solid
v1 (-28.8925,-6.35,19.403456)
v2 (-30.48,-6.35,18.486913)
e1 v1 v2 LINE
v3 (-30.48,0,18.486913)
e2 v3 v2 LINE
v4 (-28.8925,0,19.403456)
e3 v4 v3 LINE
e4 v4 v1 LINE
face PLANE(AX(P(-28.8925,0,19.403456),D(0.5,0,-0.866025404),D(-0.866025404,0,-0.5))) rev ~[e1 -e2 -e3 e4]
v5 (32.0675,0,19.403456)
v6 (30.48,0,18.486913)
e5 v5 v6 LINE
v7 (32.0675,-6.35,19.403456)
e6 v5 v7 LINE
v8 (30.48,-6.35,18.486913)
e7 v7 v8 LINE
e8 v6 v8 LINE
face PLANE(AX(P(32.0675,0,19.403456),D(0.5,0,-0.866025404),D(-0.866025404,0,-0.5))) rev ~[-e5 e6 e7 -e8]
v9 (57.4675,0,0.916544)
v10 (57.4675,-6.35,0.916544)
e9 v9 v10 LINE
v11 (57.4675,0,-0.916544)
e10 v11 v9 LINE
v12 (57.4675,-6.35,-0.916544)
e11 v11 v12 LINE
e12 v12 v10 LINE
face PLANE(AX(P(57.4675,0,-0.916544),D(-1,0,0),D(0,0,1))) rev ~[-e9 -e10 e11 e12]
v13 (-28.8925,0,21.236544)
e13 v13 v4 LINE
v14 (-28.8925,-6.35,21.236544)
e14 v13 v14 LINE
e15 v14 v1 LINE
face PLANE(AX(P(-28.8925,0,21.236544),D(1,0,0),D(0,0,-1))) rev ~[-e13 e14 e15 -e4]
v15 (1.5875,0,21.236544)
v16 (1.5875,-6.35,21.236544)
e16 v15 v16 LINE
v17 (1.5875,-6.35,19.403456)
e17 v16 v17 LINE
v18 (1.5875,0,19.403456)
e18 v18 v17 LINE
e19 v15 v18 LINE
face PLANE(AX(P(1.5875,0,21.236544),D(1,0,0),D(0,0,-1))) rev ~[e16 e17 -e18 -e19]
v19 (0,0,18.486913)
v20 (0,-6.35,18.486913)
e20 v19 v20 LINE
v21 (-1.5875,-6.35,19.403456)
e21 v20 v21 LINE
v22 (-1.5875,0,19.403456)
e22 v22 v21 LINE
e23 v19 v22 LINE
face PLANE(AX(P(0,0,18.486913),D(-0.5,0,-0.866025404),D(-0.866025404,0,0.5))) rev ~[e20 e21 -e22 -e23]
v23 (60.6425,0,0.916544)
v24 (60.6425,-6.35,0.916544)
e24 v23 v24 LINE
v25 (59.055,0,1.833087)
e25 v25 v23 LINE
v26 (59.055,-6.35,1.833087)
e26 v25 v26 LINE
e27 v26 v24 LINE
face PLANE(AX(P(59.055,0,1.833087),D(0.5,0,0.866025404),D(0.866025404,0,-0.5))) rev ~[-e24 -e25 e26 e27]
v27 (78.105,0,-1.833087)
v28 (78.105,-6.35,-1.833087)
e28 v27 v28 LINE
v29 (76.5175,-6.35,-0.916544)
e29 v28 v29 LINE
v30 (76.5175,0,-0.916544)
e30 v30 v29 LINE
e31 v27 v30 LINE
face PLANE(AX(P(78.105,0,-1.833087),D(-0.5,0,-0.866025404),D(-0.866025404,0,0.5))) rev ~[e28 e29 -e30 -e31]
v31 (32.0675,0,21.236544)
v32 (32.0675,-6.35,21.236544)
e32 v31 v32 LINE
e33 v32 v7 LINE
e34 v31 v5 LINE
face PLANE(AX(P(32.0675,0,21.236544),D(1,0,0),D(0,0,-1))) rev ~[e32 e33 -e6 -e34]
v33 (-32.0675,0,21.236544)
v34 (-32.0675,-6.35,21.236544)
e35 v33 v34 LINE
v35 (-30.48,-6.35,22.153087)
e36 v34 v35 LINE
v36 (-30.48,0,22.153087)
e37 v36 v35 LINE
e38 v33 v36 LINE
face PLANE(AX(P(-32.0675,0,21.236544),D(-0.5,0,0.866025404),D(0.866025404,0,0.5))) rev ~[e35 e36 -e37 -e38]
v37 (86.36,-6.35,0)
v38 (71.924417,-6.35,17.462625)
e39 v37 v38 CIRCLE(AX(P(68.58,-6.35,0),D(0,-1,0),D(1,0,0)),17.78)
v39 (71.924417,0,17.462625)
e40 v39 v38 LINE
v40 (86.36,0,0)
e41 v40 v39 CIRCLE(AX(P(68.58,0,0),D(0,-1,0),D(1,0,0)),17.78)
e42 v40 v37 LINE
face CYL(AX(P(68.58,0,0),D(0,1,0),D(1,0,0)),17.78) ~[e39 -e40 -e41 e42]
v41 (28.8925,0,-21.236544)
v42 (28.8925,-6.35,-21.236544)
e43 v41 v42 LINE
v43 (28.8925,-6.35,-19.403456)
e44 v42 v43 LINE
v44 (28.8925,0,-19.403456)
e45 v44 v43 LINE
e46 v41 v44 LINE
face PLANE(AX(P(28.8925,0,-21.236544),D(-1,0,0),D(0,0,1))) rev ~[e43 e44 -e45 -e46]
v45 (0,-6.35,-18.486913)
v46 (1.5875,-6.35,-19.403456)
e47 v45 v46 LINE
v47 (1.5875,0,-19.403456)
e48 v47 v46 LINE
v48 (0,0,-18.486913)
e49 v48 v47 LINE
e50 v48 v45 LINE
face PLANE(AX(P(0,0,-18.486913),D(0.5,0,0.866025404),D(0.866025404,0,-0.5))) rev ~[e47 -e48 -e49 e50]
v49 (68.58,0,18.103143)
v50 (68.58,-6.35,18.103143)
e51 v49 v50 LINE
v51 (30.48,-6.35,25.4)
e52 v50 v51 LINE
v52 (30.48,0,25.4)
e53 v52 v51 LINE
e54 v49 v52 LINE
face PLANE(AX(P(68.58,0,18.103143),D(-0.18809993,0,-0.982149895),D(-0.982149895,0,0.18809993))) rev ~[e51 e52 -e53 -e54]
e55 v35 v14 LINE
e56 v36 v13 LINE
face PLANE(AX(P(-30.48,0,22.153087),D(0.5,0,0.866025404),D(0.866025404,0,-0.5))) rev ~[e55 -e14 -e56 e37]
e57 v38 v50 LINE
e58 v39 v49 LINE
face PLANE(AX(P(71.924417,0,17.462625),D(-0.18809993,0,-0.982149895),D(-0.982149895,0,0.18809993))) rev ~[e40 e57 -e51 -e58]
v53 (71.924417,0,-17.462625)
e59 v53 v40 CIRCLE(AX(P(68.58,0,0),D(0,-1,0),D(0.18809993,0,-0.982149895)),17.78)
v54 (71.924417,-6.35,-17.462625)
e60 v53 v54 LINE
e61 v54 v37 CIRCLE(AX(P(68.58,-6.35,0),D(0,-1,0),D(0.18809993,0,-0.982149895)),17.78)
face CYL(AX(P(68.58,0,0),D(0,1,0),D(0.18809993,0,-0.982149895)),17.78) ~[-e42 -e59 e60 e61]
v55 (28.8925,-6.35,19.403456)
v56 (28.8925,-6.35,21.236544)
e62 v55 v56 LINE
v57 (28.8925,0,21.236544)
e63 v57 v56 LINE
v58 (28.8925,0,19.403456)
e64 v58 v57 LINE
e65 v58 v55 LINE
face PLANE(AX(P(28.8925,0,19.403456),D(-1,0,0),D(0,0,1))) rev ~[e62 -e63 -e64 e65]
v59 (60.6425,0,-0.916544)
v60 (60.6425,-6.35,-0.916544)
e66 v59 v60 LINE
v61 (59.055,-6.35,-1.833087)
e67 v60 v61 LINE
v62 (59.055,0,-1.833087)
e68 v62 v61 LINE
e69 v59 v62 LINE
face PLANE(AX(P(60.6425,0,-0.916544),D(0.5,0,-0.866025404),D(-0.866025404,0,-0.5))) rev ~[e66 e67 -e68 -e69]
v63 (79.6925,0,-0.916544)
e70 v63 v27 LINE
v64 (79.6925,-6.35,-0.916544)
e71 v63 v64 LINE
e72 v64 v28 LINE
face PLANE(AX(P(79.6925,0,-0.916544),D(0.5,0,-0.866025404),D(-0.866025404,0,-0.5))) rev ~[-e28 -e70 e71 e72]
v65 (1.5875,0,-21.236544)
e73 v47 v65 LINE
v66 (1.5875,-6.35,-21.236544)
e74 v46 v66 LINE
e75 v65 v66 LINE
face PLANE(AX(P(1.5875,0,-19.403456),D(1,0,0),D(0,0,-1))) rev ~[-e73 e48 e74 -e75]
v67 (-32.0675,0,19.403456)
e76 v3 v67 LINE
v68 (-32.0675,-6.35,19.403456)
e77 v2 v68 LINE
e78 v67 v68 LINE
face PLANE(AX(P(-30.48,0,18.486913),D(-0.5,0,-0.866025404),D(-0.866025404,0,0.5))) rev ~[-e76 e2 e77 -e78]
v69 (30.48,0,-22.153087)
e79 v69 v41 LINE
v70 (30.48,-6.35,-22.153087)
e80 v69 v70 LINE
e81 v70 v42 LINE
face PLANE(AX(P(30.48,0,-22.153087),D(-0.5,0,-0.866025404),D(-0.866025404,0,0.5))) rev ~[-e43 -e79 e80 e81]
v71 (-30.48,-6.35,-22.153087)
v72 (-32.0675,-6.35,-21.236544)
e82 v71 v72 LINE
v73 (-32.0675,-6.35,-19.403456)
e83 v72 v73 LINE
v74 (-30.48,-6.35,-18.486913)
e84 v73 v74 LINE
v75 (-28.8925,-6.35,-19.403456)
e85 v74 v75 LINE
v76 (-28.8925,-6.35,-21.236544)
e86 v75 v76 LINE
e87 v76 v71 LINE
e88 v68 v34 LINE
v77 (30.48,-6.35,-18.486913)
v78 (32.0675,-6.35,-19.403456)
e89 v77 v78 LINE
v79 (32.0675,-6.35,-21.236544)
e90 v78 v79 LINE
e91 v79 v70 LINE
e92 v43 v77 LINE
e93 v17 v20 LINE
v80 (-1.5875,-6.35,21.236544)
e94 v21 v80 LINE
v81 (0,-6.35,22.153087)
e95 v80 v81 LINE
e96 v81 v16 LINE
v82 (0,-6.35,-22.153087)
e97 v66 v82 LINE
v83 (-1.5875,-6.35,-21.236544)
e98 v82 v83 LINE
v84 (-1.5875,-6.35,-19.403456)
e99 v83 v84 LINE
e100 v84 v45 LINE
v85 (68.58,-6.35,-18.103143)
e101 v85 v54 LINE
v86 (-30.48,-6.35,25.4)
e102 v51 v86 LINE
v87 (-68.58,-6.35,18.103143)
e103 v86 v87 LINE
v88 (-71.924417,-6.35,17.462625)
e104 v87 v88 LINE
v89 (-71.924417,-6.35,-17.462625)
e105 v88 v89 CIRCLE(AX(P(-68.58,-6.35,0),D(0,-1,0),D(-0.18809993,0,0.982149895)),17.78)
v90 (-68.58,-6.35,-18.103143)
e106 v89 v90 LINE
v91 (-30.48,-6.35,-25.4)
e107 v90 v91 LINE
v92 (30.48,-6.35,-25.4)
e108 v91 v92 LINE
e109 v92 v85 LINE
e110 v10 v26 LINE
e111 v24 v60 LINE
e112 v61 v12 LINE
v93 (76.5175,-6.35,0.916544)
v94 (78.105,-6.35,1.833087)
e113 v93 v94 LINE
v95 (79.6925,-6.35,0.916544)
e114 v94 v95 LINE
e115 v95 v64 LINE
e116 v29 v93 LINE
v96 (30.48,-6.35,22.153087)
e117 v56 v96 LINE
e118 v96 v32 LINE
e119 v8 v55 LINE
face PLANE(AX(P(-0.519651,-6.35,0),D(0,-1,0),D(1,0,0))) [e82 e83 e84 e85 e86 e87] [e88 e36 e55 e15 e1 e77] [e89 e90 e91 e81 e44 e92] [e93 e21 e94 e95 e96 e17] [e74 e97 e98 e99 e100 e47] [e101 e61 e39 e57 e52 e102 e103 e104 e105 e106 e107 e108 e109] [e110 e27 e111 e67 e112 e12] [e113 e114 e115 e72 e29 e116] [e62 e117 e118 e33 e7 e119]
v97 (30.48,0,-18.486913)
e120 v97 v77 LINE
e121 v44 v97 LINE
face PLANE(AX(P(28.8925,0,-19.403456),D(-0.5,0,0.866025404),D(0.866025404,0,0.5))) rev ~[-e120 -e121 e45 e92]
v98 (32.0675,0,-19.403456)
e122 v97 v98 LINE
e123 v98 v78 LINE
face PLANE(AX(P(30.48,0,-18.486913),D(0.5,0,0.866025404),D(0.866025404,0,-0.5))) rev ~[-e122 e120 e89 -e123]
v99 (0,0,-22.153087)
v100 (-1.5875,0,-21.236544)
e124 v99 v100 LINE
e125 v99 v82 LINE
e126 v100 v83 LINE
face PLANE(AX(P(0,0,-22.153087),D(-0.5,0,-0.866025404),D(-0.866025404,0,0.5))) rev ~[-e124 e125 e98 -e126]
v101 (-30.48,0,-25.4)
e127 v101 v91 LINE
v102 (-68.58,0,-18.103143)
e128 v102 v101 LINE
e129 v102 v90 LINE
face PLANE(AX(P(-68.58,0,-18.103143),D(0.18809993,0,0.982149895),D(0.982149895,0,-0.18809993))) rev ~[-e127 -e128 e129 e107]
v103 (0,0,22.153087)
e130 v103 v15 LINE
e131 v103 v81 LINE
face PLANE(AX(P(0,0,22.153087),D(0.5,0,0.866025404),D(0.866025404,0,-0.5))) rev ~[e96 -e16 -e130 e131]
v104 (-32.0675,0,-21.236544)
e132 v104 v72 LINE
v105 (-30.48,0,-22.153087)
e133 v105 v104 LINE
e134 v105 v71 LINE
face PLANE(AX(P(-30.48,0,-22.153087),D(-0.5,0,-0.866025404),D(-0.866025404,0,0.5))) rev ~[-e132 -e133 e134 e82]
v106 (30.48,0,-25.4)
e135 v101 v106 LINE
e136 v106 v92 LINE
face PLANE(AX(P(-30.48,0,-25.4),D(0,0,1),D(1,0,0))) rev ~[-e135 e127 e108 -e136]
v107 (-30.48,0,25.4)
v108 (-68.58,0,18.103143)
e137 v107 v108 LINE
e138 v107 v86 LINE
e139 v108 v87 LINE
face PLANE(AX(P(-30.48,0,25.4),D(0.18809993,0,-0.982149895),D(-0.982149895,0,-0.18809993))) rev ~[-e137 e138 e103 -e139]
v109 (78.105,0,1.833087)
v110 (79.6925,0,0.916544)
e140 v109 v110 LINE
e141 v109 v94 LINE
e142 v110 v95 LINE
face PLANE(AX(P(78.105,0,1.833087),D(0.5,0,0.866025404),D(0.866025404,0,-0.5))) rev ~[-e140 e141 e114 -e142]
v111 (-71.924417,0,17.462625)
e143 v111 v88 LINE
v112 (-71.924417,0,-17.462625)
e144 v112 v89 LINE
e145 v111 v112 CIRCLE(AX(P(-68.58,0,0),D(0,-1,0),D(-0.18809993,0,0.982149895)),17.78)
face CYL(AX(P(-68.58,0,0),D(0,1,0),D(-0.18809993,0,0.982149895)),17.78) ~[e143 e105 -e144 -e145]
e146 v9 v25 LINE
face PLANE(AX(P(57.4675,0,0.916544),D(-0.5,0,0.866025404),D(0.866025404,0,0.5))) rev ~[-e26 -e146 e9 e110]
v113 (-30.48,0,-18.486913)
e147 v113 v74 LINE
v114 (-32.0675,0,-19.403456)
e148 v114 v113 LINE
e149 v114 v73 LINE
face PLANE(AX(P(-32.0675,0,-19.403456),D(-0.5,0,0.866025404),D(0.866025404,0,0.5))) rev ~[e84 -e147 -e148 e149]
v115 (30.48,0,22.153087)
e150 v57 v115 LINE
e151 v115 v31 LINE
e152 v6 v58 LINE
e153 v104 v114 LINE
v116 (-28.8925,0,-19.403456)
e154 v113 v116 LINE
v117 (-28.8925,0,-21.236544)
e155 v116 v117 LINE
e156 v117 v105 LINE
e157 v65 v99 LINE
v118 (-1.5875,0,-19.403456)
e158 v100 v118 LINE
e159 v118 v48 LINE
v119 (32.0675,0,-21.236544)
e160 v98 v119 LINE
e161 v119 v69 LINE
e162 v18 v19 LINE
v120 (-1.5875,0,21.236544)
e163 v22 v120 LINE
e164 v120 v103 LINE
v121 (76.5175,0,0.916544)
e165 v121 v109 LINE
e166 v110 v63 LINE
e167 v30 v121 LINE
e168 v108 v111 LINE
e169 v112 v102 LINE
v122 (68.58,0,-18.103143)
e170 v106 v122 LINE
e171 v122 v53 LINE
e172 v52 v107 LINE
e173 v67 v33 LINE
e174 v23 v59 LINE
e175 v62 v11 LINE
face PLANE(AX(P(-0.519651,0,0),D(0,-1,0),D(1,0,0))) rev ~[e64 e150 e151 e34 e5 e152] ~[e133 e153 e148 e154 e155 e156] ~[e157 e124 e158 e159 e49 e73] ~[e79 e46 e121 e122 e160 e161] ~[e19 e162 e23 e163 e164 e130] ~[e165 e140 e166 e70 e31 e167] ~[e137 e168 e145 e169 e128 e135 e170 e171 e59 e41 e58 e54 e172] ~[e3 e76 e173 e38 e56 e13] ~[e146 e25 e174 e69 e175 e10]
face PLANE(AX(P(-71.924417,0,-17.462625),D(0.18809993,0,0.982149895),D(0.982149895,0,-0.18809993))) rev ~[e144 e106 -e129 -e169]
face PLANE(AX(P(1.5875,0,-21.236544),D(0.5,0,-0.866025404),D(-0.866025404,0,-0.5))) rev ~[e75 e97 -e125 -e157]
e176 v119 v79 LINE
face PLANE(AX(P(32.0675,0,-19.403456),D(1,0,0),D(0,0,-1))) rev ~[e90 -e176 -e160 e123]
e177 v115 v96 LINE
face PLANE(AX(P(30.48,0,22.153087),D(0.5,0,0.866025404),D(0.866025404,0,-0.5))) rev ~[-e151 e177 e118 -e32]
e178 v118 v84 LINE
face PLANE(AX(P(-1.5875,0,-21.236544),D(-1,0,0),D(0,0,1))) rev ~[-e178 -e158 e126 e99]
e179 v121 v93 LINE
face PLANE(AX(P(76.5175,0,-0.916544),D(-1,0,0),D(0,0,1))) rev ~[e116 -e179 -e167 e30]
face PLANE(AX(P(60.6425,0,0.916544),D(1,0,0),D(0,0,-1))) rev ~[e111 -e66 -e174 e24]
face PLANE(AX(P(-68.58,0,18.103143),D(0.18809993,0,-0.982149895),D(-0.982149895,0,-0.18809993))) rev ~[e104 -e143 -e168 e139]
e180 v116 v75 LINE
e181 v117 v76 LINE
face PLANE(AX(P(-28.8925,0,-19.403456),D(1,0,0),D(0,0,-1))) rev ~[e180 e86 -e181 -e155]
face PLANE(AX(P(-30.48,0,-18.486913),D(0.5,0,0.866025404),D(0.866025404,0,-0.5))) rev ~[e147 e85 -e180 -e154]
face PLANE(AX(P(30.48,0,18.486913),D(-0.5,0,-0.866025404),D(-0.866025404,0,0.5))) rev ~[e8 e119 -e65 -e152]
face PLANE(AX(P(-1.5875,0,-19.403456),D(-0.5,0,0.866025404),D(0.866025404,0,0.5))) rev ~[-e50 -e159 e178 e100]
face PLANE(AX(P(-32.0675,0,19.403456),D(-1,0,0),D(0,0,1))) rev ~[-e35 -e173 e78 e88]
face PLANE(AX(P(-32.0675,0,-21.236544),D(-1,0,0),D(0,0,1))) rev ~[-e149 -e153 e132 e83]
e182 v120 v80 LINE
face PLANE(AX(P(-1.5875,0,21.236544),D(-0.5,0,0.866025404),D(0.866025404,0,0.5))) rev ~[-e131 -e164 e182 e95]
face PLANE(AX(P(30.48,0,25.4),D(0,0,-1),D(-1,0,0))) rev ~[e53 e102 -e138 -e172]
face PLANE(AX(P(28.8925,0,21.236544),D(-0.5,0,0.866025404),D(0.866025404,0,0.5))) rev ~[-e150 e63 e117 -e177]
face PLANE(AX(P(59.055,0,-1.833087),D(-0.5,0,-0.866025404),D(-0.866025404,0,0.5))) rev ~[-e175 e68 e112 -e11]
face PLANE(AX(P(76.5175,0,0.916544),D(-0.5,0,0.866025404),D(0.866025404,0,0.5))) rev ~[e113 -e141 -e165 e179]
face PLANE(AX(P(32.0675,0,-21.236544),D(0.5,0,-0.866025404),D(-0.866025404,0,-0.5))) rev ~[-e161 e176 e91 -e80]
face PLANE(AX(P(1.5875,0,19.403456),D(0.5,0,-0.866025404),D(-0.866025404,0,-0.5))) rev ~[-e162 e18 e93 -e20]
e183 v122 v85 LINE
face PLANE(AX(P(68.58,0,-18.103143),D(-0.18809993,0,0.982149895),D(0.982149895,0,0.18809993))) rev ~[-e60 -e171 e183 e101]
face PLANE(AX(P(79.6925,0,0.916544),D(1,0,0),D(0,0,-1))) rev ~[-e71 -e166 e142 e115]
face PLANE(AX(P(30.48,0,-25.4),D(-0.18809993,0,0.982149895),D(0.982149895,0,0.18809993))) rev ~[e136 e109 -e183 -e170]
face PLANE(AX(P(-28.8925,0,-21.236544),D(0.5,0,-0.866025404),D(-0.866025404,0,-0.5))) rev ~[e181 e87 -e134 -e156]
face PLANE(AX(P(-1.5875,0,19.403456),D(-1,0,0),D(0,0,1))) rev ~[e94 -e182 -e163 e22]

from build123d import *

# Parameters (mm, degrees)
F1_DEPTH = 6.35


with BuildPart() as f1:
    # F0 (on Front) → F1 (new body)
    with BuildSketch(Plane.XZ):
        with BuildLine():
            Line((68.58, 18.1031430027), (30.48, 25.4))
            Line((30.48, 25.4), (-30.48, 25.4))
            Line((-30.48, 25.4), (-68.58, 18.1031430027))
            Line((-68.58, 18.1031430027), (-68.58, 17.78))
            ThreePointArc((-68.58, 17.78), (-65.5387583202, 17.5179693185), (-62.5871565312, 16.7396005675))
            Line((-62.5871565312, 16.7396005675), (-61.5696, 17.3270871047))
            Line((-61.5696, 17.3270871047), (-59.9821, 16.4105435523))
            Line((-59.9821, 16.4105435523), (-59.9821, 15.5629211779))
            ThreePointArc((-59.9821, 15.5629211779), (-53.2666224823, 9.0348696172), (-50.8, 0))
            ThreePointArc((-50.8, 0), (-53.2666224823, -9.0348696172), (-59.9821, -15.5629211779))
            Line((-59.9821, -15.5629211779), (-59.9821, -16.4105435523))
            Line((-59.9821, -16.4105435523), (-61.5696, -17.3270871047))
            Line((-61.5696, -17.3270871047), (-62.5871565312, -16.7396005675))
            ThreePointArc((-62.5871565312, -16.7396005675), (-65.5387583202, -17.5179693185), (-68.58, -17.78))
            Line((-68.58, -17.78), (-68.58, -18.1031430027))
            Line((-68.58, -18.1031430027), (-30.48, -25.4))
            Line((-30.48, -25.4), (30.48, -25.4))
            Line((30.48, -25.4), (68.58, -18.1031430027))
            Line((68.58, -18.1031430027), (68.58, -17.78))
            ThreePointArc((68.58, -17.78), (50.8, 0), (68.58, 17.78))
            Line((68.58, 17.78), (68.58, 18.1031430027))
        make_face()
        Polygon((-30.48, -18.4869128953), (-28.8925, -19.4034564477), (-28.8925, -21.2365435523), (-30.48, -22.1530871047), (-32.0675, -21.2365435523), (-32.0675, -19.4034564477), align=None, mode=Mode.SUBTRACT)
        Polygon((-19.05, -15.9469128953), (-17.4625, -16.8634564477), (-17.4625, -18.6965435523), (-19.05, -19.6130871047), (-20.6375, -18.6965435523), (-20.6375, -16.8634564477), align=None, mode=Mode.SUBTRACT)
        Polygon((-48.1514023938, -5.9139128953), (-46.5639023938, -6.8304564477), (-46.5639023938, -8.6635435523), (-48.1514023938, -9.5800871047), (-49.7389023938, -8.6635435523), (-49.7389023938, -6.8304564477), align=None, mode=Mode.SUBTRACT)
        Polygon((0, -18.4869128953), (1.5875, -19.4034564477), (1.5875, -21.2365435523), (0, -22.1530871047), (-1.5875, -21.2365435523), (-1.5875, -19.4034564477), align=None, mode=Mode.SUBTRACT)
        Polygon((30.48, -22.1530871047), (28.8925, -21.2365435523), (28.8925, -19.4034564477), (30.48, -18.4869128953), (32.0675, -19.4034564477), (32.0675, -21.2365435523), align=None, mode=Mode.SUBTRACT)
        Polygon((19.05, -19.6130871047), (17.4625, -18.6965435523), (17.4625, -16.8634564477), (19.05, -15.9469128953), (20.6375, -16.8634564477), (20.6375, -18.6965435523), align=None, mode=Mode.SUBTRACT)
        Polygon((-48.1514023938, 9.5800871047), (-46.5639023938, 8.6635435523), (-46.5639023938, 6.8304564477), (-48.1514023938, 5.9139128953), (-49.7389023938, 6.8304564477), (-49.7389023938, 8.6635435523), align=None, mode=Mode.SUBTRACT)
        Polygon((-19.05, 19.6130871047), (-17.4625, 18.6965435523), (-17.4625, 16.8634564477), (-19.05, 15.9469128953), (-20.6375, 16.8634564477), (-20.6375, 18.6965435523), align=None, mode=Mode.SUBTRACT)
        Polygon((-30.48, 22.1530871047), (-28.8925, 21.2365435523), (-28.8925, 19.4034564477), (-30.48, 18.4869128953), (-32.0675, 19.4034564477), (-32.0675, 21.2365435523), align=None, mode=Mode.SUBTRACT)
        Polygon((19.05, 19.6130871047), (20.6375, 18.6965435523), (20.6375, 16.8634564477), (19.05, 15.9469128953), (17.4625, 16.8634564477), (17.4625, 18.6965435523), align=None, mode=Mode.SUBTRACT)
        Polygon((0, 22.1530871047), (1.5875, 21.2365435523), (1.5875, 19.4034564477), (0, 18.4869128953), (-1.5875, 19.4034564477), (-1.5875, 21.2365435523), align=None, mode=Mode.SUBTRACT)
        Polygon((30.48, 18.4869128953), (28.8925, 19.4034564477), (28.8925, 21.2365435523), (30.48, 22.1530871047), (32.0675, 21.2365435523), (32.0675, 19.4034564477), align=None, mode=Mode.SUBTRACT)
        with BuildLine():
            ThreePointArc((-62.5871565312, 16.7396005675), (-65.5387583202, 17.5179693185), (-68.58, 17.78))
            Line((-68.58, 17.78), (-68.58, 7.3323484187))
            Line((-68.58, 7.3323484187), (-62.23, 3.6661742094))
            Line((-62.23, 3.6661742094), (-62.23, -3.6661742094))
            Line((-62.23, -3.6661742094), (-68.58, -7.3323484187))
            Line((-68.58, -7.3323484187), (-68.58, -17.78))
            ThreePointArc((-68.58, -17.78), (-65.5387583202, -17.5179693185), (-62.5871565312, -16.7396005675))
            Line((-62.5871565312, -16.7396005675), (-63.1571, -16.4105435523))
            Line((-63.1571, -16.4105435523), (-63.1571, -14.5774564477))
            Line((-63.1571, -14.5774564477), (-61.5696, -13.6609128953))
            Line((-61.5696, -13.6609128953), (-59.9821, -14.5774564477))
            Line((-59.9821, -14.5774564477), (-59.9821, -15.5629211779))
            ThreePointArc((-59.9821, -15.5629211779), (-53.2666224823, -9.0348696172), (-50.8, 0))
            ThreePointArc((-50.8, 0), (-53.2666224823, 9.0348696172), (-59.9821, 15.5629211779))
            Line((-59.9821, 15.5629211779), (-59.9821, 14.5774564477))
            Line((-59.9821, 14.5774564477), (-61.5696, 13.6609128953))
            Line((-61.5696, 13.6609128953), (-63.1571, 14.5774564477))
            Line((-63.1571, 14.5774564477), (-63.1571, 16.4105435523))
            Line((-63.1571, 16.4105435523), (-62.5871565312, 16.7396005675))
        make_face()
        with BuildLine():
            Line((-68.58, 7.3323484187), (-68.58, 17.78))
            ThreePointArc((-68.58, 17.78), (-70.259720977, 17.7004784523), (-71.9244167559, 17.4626251338))
            ThreePointArc((-71.9244167559, 17.4626251338), (-86.36, 0), (-71.9244167559, -17.4626251338))
            ThreePointArc((-71.9244167559, -17.4626251338), (-70.259720977, -17.7004784523), (-68.58, -17.78))
            Line((-68.58, -17.78), (-68.58, -7.3323484187))
            Line((-68.58, -7.3323484187), (-74.93, -3.6661742094))
            Line((-74.93, -3.6661742094), (-74.93, 3.6661742094))
            Line((-74.93, 3.6661742094), (-68.58, 7.3323484187))
        make_face()
        Polygon((-74.9877976062, -9.5800871047), (-76.5752976062, -8.6635435523), (-76.5752976062, -6.8304564477), (-74.9877976062, -5.9139128953), (-73.4002976062, -6.8304564477), (-73.4002976062, -8.6635435523), align=None, mode=Mode.SUBTRACT)
        Polygon((-74.9877976062, 9.5800871047), (-73.4002976062, 8.6635435523), (-73.4002976062, 6.8304564477), (-74.9877976062, 5.9139128953), (-76.5752976062, 6.8304564477), (-76.5752976062, 8.6635435523), align=None, mode=Mode.SUBTRACT)
        with BuildLine():
            Line((68.58, -17.78), (68.58, 17.78))
            ThreePointArc((68.58, 17.78), (50.8, 0), (68.58, -17.78))
        make_face()
        Polygon((59.055, -1.8330871047), (57.4675, -0.9165435523), (57.4675, 0.9165435523), (59.055, 1.8330871047), (60.6425, 0.9165435523), (60.6425, -0.9165435523), align=None, mode=Mode.SUBTRACT)
        with BuildLine():
            ThreePointArc((71.9244167559, 17.4626251338), (70.259720977, 17.7004784523), (68.58, 17.78))
            Line((68.58, 17.78), (68.58, -17.78))
            ThreePointArc((68.58, -17.78), (70.259720977, -17.7004784523), (71.9244167559, -17.4626251338))
            ThreePointArc((71.9244167559, -17.4626251338), (82.2838704372, -11.3283862505), (86.36, 0))
            ThreePointArc((86.36, 0), (82.2838704372, 11.3283862505), (71.9244167559, 17.4626251338))
        make_face()
        Polygon((78.105, 1.8330871047), (79.6925, 0.9165435523), (79.6925, -0.9165435523), (78.105, -1.8330871047), (76.5175, -0.9165435523), (76.5175, 0.9165435523), align=None, mode=Mode.SUBTRACT)
        with BuildLine():
            ThreePointArc((-68.58, -17.78), (-70.259720977, -17.7004784523), (-71.9244167559, -17.4626251338))
            Line((-71.9244167559, -17.4626251338), (-68.58, -18.1031430027))
            Line((-68.58, -18.1031430027), (-68.58, -17.78))
        make_face()
        with BuildLine():
            Line((-68.58, 17.78), (-68.58, 18.1031430027))
            Line((-68.58, 18.1031430027), (-71.9244167559, 17.4626251338))
            ThreePointArc((-71.9244167559, 17.4626251338), (-70.259720977, 17.7004784523), (-68.58, 17.78))
        make_face()
        with BuildLine():
            Line((71.9244167559, 17.4626251338), (68.58, 18.1031430027))
            Line((68.58, 18.1031430027), (68.58, 17.78))
            ThreePointArc((68.58, 17.78), (70.259720977, 17.7004784523), (71.9244167559, 17.4626251338))
        make_face()
        with BuildLine():
            ThreePointArc((71.9244167559, -17.4626251338), (70.259720977, -17.7004784523), (68.58, -17.78))
            Line((68.58, -17.78), (68.58, -18.1031430027))
            Line((68.58, -18.1031430027), (71.9244167559, -17.4626251338))
        make_face()
        Polygon((-73.4002976062, 6.8304564477), (-73.4002976062, 8.6635435523), (-74.9877976062, 9.5800871047), (-76.5752976062, 8.6635435523), (-76.5752976062, 6.8304564477), (-74.9877976062, 5.9139128953), align=None)
        Polygon((-76.5752976062, -6.8304564477), (-76.5752976062, -8.6635435523), (-74.9877976062, -9.5800871047), (-73.4002976062, -8.6635435523), (-73.4002976062, -6.8304564477), (-74.9877976062, -5.9139128953), align=None)
        Polygon((-68.58, -7.3323484187), (-68.58, 7.3323484187), (-74.93, 3.6661742094), (-74.93, -3.6661742094), align=None)
        Polygon((-62.23, 3.6661742094), (-68.58, 7.3323484187), (-68.58, -7.3323484187), (-62.23, -3.6661742094), align=None)
        with BuildLine():
            ThreePointArc((-59.9821, 15.5629211779), (-61.260943207, 16.2036973454), (-62.5871565312, 16.7396005675))
            Line((-62.5871565312, 16.7396005675), (-63.1571, 16.4105435523))
            Line((-63.1571, 16.4105435523), (-63.1571, 14.5774564477))
            Line((-63.1571, 14.5774564477), (-61.5696, 13.6609128953))
            Line((-61.5696, 13.6609128953), (-59.9821, 14.5774564477))
            Line((-59.9821, 14.5774564477), (-59.9821, 15.5629211779))
        make_face()
        with BuildLine():
            Line((-61.5696, 17.3270871047), (-62.5871565312, 16.7396005675))
            ThreePointArc((-62.5871565312, 16.7396005675), (-61.260943207, 16.2036973454), (-59.9821, 15.5629211779))
            Line((-59.9821, 15.5629211779), (-59.9821, 16.4105435523))
            Line((-59.9821, 16.4105435523), (-61.5696, 17.3270871047))
        make_face()
        Polygon((-46.5639023938, 6.8304564477), (-46.5639023938, 8.6635435523), (-48.1514023938, 9.5800871047), (-49.7389023938, 8.6635435523), (-49.7389023938, 6.8304564477), (-48.1514023938, 5.9139128953), align=None)
        Polygon((-46.5639023938, -8.6635435523), (-46.5639023938, -6.8304564477), (-48.1514023938, -5.9139128953), (-49.7389023938, -6.8304564477), (-49.7389023938, -8.6635435523), (-48.1514023938, -9.5800871047), align=None)
        with BuildLine():
            Line((-63.1571, -16.4105435523), (-62.5871565312, -16.7396005675))
            ThreePointArc((-62.5871565312, -16.7396005675), (-61.260943207, -16.2036973454), (-59.9821, -15.5629211779))
            Line((-59.9821, -15.5629211779), (-59.9821, -14.5774564477))
            Line((-59.9821, -14.5774564477), (-61.5696, -13.6609128953))
            Line((-61.5696, -13.6609128953), (-63.1571, -14.5774564477))
            Line((-63.1571, -14.5774564477), (-63.1571, -16.4105435523))
        make_face()
        with BuildLine():
            ThreePointArc((-59.9821, -15.5629211779), (-61.260943207, -16.2036973454), (-62.5871565312, -16.7396005675))
            Line((-62.5871565312, -16.7396005675), (-61.5696, -17.3270871047))
            Line((-61.5696, -17.3270871047), (-59.9821, -16.4105435523))
            Line((-59.9821, -16.4105435523), (-59.9821, -15.5629211779))
        make_face()
        Polygon((-17.4625, 16.8634564477), (-17.4625, 18.6965435523), (-19.05, 19.6130871047), (-20.6375, 18.6965435523), (-20.6375, 16.8634564477), (-19.05, 15.9469128953), align=None)
        Polygon((-17.4625, -18.6965435523), (-17.4625, -16.8634564477), (-19.05, -15.9469128953), (-20.6375, -16.8634564477), (-20.6375, -18.6965435523), (-19.05, -19.6130871047), align=None)
        Polygon((17.4625, -16.8634564477), (17.4625, -18.6965435523), (19.05, -19.6130871047), (20.6375, -18.6965435523), (20.6375, -16.8634564477), (19.05, -15.9469128953), align=None)
        Polygon((20.6375, 16.8634564477), (20.6375, 18.6965435523), (19.05, 19.6130871047), (17.4625, 18.6965435523), (17.4625, 16.8634564477), (19.05, 15.9469128953), align=None)
    extrude(amount=F1_DEPTH)


solid = f1.part
